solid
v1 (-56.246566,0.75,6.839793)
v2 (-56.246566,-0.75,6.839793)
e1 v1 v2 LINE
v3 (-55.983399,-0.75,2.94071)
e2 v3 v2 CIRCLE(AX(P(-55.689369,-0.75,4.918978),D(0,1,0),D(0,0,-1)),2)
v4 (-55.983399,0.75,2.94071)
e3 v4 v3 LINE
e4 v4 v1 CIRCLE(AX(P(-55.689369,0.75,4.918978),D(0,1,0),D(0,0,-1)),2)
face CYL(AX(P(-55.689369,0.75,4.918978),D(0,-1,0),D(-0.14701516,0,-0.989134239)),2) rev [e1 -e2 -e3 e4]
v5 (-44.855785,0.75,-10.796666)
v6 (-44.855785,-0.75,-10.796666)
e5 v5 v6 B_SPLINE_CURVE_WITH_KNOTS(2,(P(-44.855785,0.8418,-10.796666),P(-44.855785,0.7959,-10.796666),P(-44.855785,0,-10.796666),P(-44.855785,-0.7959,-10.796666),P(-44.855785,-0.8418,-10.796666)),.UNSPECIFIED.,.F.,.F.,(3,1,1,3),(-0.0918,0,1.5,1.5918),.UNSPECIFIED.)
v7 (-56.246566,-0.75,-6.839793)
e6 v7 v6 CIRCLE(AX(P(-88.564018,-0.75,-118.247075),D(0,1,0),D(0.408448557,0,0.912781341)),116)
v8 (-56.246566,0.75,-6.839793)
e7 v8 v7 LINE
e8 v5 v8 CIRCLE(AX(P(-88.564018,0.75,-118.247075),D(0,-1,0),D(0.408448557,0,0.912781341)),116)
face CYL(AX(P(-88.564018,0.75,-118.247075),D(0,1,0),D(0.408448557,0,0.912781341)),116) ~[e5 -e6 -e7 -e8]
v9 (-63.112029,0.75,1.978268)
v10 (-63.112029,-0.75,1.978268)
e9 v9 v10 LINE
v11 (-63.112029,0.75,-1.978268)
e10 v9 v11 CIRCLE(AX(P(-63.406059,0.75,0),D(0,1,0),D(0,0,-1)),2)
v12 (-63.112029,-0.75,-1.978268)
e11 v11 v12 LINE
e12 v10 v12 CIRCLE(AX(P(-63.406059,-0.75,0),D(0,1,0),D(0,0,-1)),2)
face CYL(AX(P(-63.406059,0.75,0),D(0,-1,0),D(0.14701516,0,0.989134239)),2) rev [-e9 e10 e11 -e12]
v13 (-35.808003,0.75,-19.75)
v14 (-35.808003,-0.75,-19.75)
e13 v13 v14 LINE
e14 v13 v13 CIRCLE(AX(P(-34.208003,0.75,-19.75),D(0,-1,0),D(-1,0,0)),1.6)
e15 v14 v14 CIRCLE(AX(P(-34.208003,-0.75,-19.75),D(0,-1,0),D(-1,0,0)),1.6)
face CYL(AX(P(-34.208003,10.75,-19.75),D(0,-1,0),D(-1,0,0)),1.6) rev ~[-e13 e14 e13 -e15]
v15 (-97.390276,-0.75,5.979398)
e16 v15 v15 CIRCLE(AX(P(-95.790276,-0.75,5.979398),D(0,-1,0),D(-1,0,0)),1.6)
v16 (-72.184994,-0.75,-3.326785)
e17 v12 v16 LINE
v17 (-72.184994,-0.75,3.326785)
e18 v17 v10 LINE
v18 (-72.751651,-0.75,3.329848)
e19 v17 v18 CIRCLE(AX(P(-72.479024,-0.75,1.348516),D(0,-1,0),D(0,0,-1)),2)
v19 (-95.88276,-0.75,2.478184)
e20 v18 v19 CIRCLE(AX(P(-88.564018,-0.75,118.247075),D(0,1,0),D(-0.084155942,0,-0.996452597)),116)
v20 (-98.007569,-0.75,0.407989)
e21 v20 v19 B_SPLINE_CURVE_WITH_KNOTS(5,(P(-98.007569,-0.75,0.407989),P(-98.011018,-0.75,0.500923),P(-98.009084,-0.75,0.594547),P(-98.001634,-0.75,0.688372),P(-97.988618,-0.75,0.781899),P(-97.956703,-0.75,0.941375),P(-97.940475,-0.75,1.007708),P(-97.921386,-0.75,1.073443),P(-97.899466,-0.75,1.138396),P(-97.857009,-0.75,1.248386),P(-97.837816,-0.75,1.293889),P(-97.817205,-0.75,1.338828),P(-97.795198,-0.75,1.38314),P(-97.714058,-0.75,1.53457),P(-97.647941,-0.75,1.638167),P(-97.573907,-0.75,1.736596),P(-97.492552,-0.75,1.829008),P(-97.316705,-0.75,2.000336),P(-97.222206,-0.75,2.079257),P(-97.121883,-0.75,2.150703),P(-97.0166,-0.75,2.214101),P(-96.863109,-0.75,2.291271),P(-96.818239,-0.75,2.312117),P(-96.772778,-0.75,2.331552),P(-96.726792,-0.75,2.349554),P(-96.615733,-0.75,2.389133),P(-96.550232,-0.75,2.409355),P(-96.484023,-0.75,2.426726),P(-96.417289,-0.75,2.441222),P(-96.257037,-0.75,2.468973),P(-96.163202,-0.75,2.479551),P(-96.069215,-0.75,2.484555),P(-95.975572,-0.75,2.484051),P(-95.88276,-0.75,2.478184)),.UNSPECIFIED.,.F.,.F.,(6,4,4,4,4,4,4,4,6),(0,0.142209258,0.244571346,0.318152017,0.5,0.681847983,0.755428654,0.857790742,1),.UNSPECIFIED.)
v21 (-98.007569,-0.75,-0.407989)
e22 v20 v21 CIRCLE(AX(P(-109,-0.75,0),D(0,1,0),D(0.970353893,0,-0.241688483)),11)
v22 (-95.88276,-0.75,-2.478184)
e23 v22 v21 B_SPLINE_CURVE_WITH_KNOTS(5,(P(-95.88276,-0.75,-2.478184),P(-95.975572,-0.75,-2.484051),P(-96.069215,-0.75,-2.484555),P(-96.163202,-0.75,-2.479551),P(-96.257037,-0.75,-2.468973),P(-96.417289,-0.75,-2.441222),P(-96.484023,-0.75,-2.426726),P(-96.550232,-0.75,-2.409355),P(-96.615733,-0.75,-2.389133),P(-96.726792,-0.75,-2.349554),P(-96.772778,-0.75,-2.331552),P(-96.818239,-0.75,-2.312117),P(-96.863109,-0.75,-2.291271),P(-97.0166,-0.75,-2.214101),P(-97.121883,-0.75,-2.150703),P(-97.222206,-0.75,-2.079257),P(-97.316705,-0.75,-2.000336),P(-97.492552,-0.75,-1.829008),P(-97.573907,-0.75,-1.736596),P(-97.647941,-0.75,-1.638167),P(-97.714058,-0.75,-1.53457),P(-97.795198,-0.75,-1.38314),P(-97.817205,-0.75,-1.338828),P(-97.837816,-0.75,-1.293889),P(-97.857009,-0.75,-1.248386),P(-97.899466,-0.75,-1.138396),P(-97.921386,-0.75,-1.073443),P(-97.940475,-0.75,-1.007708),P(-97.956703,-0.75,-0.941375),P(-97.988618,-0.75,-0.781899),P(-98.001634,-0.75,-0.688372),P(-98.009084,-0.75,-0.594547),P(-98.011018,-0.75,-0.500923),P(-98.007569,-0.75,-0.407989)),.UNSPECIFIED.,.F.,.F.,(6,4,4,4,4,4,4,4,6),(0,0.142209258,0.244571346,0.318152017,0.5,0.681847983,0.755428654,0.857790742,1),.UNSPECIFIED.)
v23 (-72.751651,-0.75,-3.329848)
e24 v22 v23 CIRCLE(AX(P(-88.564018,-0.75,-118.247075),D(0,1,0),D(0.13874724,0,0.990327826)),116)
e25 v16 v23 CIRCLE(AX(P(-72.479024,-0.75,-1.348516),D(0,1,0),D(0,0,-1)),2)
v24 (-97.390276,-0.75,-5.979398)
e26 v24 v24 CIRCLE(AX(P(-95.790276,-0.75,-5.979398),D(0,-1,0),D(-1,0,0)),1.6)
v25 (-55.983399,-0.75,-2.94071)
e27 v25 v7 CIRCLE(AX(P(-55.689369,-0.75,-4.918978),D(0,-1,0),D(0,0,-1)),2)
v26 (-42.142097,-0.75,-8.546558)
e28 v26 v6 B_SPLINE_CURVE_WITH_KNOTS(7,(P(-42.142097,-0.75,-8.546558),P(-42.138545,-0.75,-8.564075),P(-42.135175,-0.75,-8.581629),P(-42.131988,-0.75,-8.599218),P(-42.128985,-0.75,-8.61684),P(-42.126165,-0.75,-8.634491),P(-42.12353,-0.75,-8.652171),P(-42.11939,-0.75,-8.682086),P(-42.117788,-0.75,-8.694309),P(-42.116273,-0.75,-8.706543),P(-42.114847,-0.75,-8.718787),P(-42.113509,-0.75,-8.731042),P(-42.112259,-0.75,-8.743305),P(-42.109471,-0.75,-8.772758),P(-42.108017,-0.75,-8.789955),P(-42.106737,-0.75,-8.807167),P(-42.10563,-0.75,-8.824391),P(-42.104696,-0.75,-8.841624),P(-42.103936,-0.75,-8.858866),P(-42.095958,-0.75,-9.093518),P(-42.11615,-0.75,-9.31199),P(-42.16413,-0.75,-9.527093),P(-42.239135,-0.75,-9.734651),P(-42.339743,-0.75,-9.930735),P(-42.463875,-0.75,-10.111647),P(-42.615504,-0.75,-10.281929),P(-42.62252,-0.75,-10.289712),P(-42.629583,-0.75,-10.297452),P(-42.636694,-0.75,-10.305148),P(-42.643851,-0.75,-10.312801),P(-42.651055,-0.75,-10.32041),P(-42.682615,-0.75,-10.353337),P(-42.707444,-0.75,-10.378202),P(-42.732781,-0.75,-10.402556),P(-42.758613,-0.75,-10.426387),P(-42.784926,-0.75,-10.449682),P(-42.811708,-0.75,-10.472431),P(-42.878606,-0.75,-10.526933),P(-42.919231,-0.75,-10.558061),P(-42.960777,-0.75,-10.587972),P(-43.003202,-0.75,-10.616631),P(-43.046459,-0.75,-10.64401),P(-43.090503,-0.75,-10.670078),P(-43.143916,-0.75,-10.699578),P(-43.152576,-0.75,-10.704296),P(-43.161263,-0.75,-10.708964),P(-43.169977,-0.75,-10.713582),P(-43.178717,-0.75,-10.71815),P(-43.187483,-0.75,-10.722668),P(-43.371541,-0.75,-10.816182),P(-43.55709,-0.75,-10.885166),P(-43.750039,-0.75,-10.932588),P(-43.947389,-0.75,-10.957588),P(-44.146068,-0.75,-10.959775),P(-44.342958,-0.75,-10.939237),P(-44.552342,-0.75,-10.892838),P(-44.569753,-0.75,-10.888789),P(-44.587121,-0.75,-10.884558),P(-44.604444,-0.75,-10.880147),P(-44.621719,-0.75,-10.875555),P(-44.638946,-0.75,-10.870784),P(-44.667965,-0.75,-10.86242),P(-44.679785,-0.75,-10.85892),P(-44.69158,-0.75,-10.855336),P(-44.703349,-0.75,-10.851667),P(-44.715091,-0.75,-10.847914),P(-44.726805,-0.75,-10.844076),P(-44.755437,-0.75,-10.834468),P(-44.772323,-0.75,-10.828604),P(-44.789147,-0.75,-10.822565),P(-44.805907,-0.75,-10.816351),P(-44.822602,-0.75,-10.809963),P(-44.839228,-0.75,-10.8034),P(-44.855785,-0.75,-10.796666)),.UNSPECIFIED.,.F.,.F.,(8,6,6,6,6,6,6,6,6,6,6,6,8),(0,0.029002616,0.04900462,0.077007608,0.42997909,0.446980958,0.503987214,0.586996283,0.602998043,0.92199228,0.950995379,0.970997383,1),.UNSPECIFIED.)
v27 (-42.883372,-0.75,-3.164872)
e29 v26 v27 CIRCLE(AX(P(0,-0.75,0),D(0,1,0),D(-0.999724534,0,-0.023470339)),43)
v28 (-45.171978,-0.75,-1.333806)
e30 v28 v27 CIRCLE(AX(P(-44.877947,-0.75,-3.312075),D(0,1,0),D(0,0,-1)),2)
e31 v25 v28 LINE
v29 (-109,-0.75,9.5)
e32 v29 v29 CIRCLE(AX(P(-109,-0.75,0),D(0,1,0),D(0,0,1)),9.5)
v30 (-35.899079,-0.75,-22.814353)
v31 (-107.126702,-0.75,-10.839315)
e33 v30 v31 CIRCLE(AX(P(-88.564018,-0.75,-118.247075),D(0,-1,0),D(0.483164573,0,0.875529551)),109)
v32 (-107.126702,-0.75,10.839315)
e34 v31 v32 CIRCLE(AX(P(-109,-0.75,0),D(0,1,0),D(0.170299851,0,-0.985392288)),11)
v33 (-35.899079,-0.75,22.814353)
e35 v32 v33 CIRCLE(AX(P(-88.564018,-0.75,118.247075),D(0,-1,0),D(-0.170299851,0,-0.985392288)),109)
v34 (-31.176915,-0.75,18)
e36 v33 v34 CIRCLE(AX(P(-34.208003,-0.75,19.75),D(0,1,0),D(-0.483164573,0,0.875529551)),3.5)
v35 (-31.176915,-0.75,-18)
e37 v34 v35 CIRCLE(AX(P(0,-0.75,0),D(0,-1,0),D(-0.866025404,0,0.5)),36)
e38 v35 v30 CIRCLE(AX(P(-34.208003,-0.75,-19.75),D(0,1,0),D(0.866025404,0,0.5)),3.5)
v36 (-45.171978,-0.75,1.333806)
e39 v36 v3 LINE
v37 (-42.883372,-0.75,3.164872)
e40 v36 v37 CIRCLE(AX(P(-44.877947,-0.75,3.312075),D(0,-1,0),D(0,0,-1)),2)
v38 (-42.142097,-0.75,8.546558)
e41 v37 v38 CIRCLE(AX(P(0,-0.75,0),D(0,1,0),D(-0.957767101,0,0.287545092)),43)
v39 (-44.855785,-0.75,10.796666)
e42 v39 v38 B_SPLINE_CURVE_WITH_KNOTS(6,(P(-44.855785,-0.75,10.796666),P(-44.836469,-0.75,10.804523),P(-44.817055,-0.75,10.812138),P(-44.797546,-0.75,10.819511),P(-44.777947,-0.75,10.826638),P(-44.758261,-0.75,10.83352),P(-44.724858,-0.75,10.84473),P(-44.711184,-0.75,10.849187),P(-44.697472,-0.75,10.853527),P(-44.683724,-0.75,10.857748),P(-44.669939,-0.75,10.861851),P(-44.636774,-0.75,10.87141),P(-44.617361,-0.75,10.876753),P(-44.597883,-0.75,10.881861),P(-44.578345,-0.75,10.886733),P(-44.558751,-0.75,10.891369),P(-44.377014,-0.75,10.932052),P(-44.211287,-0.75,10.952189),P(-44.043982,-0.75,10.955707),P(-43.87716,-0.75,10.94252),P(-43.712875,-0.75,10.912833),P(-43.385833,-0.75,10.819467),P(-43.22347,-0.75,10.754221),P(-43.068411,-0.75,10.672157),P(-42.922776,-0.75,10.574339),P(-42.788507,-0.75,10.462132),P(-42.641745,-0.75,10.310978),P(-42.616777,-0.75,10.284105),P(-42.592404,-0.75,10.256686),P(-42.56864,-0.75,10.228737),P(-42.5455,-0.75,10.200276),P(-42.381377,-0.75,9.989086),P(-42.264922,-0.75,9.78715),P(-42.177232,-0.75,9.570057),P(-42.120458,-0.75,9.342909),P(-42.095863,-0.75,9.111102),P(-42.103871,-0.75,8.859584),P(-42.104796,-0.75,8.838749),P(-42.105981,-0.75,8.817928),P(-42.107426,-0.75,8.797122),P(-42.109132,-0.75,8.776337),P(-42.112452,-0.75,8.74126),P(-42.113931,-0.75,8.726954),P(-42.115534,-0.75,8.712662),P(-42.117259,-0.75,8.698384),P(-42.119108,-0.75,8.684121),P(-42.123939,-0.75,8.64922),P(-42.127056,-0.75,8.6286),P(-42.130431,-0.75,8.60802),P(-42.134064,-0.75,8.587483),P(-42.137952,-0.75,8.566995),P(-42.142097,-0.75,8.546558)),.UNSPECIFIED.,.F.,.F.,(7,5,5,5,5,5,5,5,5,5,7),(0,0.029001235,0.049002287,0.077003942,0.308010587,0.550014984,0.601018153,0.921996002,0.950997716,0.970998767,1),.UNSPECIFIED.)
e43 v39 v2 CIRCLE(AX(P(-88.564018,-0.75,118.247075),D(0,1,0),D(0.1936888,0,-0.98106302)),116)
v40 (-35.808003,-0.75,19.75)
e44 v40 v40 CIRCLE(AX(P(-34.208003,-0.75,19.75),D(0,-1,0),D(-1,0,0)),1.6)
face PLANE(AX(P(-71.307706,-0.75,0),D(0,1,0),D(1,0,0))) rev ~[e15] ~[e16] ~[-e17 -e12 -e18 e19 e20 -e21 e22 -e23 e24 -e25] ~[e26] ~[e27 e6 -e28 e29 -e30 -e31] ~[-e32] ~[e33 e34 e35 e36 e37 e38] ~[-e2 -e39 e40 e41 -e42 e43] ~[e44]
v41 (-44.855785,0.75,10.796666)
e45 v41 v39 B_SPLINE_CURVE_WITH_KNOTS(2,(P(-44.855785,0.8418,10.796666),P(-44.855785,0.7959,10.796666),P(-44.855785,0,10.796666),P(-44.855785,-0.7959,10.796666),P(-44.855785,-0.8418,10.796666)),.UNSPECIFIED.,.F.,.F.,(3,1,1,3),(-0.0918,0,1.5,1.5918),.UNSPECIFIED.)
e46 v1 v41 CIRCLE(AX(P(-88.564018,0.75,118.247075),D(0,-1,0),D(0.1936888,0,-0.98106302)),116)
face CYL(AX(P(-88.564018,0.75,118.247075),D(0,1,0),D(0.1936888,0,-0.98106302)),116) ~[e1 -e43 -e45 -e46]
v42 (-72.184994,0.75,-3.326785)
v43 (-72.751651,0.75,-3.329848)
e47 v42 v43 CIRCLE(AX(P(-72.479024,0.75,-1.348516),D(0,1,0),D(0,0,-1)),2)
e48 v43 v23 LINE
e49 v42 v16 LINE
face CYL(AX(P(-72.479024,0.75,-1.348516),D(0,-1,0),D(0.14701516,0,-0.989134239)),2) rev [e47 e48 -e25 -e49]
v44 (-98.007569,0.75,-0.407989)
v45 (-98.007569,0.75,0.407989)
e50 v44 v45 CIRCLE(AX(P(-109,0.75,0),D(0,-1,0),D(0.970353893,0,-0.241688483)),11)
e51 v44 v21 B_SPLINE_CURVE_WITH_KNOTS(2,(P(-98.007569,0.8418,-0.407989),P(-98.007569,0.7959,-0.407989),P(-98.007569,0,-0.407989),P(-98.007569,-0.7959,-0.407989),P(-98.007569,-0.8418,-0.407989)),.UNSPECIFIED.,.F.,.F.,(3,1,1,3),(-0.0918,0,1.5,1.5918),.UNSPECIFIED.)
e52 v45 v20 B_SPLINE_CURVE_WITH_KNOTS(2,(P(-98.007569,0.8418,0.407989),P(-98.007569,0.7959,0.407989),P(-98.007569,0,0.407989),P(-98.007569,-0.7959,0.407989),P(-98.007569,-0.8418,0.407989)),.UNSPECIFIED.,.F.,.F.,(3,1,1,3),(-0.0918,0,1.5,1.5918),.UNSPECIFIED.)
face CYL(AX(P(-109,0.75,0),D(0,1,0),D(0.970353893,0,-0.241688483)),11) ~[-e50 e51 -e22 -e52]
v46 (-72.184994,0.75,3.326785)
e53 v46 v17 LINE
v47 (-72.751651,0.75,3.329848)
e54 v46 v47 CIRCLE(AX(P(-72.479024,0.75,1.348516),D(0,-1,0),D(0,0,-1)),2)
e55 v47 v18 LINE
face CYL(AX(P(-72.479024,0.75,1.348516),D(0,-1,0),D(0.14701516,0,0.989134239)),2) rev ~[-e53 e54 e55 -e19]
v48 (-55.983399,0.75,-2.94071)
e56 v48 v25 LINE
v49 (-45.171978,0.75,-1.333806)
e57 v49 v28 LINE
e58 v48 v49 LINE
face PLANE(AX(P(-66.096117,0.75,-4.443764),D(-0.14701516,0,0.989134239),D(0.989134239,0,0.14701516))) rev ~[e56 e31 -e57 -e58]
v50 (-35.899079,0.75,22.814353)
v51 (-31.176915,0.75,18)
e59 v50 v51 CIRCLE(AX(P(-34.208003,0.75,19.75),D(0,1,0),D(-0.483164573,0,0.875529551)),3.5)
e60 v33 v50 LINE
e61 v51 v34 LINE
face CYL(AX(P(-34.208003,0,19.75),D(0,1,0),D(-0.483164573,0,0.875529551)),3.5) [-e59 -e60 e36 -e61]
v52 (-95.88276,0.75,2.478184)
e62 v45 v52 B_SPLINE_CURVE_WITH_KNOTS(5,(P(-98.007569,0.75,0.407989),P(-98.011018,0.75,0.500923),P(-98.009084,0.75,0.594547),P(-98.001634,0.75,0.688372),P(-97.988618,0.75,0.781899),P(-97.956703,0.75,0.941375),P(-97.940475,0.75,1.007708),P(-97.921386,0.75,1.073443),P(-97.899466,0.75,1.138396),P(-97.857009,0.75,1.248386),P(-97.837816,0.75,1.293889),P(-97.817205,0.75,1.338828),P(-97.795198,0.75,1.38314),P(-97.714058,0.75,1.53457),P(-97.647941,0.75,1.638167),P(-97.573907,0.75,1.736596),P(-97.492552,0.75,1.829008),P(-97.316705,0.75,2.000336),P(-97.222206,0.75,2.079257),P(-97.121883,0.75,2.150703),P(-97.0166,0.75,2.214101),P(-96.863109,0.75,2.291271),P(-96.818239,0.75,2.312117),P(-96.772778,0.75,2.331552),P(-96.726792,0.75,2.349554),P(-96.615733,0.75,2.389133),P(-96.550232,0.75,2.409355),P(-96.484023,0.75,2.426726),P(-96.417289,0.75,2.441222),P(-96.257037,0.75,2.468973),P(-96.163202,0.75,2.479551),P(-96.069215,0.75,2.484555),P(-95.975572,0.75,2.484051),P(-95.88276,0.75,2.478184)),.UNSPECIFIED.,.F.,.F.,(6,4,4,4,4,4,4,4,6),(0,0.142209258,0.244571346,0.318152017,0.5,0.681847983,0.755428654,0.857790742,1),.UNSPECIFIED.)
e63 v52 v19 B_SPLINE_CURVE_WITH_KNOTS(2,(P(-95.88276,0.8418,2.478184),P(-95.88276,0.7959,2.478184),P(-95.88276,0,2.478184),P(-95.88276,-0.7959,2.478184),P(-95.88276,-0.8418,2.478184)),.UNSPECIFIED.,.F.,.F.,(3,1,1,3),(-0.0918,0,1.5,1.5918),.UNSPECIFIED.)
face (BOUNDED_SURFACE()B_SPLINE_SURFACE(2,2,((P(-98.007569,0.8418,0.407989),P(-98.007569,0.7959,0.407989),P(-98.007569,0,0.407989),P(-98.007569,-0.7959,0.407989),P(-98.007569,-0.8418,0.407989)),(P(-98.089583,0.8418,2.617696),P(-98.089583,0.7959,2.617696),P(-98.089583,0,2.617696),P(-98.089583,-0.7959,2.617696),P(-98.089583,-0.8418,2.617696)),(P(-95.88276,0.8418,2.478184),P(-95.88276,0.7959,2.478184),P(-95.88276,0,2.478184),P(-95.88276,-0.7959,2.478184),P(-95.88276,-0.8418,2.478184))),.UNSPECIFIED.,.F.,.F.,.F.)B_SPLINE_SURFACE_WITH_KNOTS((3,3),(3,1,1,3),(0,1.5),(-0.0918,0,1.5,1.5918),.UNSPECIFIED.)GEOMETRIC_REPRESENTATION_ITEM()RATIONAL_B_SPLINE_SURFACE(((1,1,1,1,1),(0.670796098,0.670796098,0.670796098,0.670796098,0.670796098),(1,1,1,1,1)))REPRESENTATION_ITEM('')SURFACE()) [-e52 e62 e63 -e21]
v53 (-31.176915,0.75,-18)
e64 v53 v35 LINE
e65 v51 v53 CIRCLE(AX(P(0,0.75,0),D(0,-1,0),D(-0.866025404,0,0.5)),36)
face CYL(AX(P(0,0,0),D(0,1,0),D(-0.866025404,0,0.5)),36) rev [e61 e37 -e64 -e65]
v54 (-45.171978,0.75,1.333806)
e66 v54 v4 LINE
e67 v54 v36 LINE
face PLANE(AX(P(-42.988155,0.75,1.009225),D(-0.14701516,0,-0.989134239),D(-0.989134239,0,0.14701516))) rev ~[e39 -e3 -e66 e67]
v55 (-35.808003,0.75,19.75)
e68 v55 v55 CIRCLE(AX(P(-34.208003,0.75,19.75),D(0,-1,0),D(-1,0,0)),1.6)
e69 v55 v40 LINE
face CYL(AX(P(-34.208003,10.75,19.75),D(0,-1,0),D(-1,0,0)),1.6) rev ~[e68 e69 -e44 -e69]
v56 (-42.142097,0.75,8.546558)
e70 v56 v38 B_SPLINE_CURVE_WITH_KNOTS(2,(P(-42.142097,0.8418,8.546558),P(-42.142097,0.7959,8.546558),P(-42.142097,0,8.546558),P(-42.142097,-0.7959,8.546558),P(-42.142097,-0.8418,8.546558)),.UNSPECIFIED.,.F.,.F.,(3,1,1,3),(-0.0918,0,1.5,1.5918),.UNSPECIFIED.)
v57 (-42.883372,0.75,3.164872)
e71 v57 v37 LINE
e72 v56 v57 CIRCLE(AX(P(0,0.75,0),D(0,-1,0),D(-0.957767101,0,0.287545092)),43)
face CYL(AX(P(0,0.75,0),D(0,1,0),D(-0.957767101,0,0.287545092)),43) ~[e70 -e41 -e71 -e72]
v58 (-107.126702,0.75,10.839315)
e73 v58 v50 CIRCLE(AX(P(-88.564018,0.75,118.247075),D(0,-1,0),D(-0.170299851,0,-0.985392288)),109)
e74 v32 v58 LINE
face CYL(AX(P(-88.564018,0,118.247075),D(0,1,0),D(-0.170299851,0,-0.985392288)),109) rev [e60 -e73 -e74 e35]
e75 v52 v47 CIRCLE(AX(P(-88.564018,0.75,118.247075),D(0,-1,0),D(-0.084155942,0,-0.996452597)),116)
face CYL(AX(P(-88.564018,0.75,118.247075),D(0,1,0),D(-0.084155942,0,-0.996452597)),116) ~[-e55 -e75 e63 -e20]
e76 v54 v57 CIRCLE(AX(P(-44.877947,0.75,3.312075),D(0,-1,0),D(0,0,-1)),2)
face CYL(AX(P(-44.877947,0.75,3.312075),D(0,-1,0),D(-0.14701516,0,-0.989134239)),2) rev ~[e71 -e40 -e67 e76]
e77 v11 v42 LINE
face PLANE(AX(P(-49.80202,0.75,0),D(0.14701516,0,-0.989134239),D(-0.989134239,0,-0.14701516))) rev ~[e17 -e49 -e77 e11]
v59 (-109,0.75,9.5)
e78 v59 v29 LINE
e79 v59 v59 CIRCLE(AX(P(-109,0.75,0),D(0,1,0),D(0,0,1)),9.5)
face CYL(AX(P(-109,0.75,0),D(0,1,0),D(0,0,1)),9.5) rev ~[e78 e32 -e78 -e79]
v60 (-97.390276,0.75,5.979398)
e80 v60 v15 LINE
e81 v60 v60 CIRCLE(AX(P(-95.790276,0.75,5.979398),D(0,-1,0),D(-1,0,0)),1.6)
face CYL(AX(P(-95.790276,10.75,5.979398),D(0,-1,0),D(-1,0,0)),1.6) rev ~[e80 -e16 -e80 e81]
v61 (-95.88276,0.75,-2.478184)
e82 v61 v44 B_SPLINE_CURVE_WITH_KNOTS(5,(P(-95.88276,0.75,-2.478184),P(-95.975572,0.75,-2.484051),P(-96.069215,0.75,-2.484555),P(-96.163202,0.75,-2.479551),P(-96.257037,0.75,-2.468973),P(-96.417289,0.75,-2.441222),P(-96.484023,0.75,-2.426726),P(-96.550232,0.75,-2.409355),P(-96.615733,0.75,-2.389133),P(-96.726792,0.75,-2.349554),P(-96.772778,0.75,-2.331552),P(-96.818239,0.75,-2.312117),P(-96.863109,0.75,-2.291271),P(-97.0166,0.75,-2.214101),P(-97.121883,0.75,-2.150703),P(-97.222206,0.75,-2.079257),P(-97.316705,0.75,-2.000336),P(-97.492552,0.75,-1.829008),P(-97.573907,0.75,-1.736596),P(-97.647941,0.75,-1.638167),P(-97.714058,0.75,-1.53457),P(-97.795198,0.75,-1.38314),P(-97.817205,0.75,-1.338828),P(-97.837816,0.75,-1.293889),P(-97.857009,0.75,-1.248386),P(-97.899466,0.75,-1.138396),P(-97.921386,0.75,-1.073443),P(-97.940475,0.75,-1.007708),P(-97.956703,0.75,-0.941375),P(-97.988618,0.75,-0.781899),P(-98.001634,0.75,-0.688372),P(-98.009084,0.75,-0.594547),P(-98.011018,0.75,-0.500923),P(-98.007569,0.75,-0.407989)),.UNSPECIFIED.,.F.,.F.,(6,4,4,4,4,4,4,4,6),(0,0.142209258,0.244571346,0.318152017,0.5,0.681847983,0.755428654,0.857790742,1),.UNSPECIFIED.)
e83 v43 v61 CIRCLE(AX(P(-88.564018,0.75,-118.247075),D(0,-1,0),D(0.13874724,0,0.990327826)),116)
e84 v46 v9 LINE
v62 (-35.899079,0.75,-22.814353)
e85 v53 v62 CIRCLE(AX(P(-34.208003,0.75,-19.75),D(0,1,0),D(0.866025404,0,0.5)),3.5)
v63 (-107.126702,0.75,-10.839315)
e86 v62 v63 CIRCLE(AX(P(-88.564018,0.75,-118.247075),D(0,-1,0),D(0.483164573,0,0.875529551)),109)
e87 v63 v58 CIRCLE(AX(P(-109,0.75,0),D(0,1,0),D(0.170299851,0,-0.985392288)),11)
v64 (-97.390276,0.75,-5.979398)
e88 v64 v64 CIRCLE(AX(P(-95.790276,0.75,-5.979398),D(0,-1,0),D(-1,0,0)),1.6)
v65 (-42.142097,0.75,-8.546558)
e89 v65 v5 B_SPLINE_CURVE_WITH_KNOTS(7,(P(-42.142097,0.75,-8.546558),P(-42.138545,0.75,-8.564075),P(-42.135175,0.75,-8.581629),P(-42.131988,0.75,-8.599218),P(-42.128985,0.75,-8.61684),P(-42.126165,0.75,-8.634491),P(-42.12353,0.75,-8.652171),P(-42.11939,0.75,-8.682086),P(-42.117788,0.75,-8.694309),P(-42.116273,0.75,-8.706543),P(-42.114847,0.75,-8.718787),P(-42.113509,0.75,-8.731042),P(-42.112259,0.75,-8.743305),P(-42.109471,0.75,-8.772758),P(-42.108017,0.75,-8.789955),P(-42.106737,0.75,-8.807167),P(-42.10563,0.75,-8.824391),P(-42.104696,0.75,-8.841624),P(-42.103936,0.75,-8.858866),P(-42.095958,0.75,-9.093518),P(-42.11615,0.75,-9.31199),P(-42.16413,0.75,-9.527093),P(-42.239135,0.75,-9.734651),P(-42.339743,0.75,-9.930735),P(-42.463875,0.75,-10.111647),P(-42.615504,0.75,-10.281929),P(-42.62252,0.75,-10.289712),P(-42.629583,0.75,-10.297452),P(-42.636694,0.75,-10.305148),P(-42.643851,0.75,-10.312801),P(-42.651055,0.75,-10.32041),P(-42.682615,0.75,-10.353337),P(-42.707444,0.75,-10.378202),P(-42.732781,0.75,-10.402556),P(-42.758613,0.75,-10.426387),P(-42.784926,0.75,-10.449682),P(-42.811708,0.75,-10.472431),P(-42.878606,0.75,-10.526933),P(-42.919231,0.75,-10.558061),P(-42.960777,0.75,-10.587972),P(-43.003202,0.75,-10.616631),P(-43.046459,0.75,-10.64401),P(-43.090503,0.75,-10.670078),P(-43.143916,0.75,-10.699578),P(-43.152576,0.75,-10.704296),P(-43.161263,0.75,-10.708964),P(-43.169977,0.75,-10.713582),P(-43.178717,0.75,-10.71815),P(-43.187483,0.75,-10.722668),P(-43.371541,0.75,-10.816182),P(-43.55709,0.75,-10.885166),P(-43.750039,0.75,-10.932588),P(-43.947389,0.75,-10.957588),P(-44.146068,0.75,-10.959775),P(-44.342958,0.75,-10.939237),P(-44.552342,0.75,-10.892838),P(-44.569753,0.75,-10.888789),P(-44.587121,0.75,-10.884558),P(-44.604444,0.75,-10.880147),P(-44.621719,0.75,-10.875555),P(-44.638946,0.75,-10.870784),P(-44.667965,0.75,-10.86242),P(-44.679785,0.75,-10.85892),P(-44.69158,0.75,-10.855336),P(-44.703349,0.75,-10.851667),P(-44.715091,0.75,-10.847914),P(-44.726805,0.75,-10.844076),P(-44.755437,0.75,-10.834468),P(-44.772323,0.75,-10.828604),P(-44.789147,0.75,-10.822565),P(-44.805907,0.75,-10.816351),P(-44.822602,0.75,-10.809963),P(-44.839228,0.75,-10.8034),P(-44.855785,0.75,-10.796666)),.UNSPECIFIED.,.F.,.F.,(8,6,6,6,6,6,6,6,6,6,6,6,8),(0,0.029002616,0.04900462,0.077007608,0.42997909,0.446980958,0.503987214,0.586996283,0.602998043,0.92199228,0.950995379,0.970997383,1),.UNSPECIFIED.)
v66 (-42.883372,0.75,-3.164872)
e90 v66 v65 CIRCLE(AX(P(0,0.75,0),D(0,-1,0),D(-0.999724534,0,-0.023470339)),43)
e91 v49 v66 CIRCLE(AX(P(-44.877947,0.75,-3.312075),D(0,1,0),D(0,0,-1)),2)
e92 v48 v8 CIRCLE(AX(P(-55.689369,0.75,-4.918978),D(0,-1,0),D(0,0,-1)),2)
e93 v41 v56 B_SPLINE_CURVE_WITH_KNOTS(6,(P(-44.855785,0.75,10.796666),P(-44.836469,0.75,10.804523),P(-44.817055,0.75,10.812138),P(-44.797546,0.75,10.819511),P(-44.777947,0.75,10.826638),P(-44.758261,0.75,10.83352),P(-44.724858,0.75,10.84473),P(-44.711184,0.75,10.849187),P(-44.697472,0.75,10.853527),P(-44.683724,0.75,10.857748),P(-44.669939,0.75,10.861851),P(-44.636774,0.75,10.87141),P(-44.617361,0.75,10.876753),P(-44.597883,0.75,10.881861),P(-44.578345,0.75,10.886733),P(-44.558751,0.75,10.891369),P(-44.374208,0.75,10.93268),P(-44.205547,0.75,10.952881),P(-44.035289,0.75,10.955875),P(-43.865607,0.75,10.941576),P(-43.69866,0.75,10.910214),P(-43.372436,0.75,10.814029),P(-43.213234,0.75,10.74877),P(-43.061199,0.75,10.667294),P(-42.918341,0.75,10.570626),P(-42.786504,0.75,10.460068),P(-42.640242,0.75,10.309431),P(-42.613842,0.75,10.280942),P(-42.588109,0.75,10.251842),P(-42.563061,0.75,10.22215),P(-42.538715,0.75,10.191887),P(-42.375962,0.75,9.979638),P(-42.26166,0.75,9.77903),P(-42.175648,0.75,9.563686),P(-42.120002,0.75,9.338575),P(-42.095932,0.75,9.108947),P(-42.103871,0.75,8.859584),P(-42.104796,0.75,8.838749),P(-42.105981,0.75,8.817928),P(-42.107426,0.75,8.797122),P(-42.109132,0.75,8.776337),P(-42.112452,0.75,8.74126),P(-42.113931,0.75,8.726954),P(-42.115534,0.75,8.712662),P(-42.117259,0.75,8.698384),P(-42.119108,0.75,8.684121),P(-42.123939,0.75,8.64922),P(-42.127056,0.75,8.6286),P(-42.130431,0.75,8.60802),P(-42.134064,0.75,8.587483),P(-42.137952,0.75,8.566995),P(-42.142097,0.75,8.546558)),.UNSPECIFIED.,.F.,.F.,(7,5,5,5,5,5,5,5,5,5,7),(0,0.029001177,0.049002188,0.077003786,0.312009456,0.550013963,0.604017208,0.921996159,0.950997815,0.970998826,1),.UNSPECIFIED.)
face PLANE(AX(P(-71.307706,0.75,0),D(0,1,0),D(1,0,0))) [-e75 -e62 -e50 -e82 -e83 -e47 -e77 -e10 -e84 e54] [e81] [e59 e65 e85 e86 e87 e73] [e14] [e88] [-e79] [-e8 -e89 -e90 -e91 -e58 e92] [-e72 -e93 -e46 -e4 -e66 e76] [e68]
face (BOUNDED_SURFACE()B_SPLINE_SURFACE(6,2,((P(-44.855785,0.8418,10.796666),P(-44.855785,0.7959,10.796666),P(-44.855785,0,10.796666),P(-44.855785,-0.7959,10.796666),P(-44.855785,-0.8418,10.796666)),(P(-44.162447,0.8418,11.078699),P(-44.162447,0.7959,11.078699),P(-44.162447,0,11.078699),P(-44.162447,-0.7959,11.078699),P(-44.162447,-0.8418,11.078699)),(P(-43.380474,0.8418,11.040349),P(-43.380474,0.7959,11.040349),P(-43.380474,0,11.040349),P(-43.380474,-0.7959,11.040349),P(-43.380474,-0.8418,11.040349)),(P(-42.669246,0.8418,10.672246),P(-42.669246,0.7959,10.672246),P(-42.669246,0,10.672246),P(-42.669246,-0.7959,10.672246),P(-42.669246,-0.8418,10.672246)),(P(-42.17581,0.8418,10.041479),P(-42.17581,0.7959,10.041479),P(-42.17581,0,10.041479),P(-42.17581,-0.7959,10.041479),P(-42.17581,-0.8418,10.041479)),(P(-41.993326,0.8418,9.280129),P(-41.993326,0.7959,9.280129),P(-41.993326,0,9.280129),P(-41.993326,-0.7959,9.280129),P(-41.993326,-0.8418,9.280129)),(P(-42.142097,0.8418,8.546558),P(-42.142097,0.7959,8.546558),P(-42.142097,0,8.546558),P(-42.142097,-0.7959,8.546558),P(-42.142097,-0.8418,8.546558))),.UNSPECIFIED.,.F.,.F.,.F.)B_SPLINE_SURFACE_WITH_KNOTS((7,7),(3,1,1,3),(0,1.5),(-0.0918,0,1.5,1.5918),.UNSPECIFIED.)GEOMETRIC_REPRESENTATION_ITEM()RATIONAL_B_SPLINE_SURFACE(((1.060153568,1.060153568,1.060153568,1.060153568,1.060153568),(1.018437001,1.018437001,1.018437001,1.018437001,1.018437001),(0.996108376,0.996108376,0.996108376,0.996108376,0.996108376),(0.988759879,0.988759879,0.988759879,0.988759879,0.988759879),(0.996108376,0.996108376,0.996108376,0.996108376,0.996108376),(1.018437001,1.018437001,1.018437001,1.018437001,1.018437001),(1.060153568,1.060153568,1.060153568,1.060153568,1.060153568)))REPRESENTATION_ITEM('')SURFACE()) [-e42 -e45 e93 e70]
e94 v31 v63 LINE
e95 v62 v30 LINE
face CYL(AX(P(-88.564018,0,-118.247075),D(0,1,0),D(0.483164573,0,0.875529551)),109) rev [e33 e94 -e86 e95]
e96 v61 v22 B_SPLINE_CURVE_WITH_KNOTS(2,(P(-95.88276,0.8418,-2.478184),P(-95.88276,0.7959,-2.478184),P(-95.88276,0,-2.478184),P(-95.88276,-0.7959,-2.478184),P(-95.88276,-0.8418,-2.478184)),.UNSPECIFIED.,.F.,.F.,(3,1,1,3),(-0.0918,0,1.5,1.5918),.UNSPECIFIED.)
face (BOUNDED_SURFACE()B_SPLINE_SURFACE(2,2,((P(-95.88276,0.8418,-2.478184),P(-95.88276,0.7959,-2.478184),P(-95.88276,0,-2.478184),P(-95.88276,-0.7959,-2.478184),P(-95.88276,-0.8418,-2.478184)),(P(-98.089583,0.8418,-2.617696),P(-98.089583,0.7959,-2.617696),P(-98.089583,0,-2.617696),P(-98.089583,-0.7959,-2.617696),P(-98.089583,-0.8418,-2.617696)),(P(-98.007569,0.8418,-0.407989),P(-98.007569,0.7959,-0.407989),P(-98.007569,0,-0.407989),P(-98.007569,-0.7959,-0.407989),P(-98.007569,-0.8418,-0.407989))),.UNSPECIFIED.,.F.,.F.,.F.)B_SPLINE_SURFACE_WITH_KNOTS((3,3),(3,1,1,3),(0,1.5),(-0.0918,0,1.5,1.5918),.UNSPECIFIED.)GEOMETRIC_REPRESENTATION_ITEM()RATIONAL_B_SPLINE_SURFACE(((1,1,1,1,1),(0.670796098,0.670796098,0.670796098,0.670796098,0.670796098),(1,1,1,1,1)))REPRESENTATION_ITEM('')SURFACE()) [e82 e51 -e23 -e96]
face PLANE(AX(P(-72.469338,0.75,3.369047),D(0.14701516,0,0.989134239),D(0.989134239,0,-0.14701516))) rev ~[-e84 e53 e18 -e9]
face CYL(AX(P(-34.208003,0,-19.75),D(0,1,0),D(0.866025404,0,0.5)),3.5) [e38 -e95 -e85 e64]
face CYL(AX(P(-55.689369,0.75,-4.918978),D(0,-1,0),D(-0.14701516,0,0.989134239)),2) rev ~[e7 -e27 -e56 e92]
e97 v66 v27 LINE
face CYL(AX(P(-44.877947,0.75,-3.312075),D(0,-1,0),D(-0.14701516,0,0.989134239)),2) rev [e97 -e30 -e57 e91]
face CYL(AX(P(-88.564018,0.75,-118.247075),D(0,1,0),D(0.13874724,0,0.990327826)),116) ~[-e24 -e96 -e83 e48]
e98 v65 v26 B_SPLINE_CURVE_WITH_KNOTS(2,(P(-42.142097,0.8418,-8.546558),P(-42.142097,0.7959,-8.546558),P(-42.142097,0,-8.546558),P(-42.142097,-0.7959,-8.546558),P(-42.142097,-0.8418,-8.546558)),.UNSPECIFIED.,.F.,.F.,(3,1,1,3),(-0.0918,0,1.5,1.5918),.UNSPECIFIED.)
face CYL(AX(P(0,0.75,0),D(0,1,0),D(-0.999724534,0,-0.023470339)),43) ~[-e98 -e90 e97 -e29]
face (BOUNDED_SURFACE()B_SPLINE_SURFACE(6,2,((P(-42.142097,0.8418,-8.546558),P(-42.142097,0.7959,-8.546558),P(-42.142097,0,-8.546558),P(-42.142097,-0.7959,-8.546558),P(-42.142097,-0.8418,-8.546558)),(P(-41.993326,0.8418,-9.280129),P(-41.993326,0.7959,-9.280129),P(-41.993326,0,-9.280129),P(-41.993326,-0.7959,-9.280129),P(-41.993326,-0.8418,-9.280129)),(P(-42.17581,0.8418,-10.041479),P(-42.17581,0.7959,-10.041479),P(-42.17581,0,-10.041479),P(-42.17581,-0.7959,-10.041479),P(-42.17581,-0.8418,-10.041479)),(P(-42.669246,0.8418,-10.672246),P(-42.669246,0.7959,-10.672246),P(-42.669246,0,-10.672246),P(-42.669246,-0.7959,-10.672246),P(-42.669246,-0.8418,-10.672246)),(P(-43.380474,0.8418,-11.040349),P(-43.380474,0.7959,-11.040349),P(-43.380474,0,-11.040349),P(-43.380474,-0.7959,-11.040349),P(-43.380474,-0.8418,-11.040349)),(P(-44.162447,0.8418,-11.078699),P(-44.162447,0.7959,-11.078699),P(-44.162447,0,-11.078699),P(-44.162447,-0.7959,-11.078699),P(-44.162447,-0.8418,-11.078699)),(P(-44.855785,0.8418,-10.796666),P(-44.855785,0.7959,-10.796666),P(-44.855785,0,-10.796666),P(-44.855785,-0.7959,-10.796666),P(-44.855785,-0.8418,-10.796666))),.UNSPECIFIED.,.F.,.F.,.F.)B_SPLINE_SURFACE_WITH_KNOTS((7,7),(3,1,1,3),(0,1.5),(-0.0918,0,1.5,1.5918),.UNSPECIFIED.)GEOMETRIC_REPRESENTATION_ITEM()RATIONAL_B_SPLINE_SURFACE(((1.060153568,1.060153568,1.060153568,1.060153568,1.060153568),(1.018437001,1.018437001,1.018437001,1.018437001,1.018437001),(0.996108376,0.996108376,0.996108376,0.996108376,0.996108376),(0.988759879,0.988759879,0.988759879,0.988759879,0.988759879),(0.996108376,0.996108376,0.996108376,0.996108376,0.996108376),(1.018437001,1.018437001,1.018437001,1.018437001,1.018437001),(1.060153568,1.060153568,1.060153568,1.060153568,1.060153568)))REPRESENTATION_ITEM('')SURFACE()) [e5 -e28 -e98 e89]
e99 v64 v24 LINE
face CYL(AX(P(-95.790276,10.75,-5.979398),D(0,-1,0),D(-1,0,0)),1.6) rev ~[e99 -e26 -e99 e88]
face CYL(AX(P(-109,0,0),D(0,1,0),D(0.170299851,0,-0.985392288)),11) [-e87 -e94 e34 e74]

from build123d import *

# Parameters (mm, degrees)
SKETCH1_R                      = 3.5
BOSS_EXTRUDE1_DEPTH            = 0.75
F_3_2_3_2_DIAMETER_HOLE1_D     = 3.2
F_3_2_3_2_DIAMETER_HOLE1_DEPTH = 10
F_3_2_3_2_DIAMETER_HOLE1_TIP   = 0.96137699
CUT_EXTRUDE1_DEPTH             = 123.2407972
FILLET1_R                      = 2
SKETCH7_R                      = 9.5
CUT_EXTRUDE2_DEPTH             = 123.240797318


with BuildPart() as part:
    # Sketch1 → Boss-Extrude1 (new, symmetric)
    with BuildSketch(Plane(origin=(0, 0, 0), x_dir=(1, 0, 0), z_dir=(0, 1, 0))):
        with BuildLine():
            ThreePointArc((-37.239092363, -21.5), (-43, 0), (-37.239092363, 21.5))
            ThreePointArc((-37.239092363, 21.5), (-36.658838331, 22.248681329), (-35.899079455, 22.81435343))
            ThreePointArc((-35.899079455, 22.81435343), (-70.492179883, 10.7556392), (-107.126701642, 10.839315166))
            ThreePointArc((-107.126701642, 10.839315166), (-120, 0), (-107.126701642, -10.839315166))
            ThreePointArc((-107.126701642, -10.839315166), (-70.492179883, -10.7556392), (-35.899079455, -22.81435343))
            ThreePointArc((-35.899079455, -22.81435343), (-36.658838331, -22.248681329), (-37.239092363, -21.5))
        make_face()
        with BuildLine():
            ThreePointArc((-31.176914536, 18), (-35.958003449, 16.718911087), (-37.239092363, 21.5))
            ThreePointArc((-37.239092363, 21.5), (-43, 0), (-37.239092363, -21.5))
            ThreePointArc((-37.239092363, -21.5), (-35.958003449, -16.718911087), (-31.176914536, -18))
            ThreePointArc((-31.176914536, -18), (-36, 0), (-31.176914536, 18))
        make_face()
        with Locations((-34.208003449, -19.75)):
            Circle(SKETCH1_R)
        with Locations((-34.208003449, 19.75)):
            Circle(SKETCH1_R)
    extrude(amount=BOSS_EXTRUDE1_DEPTH, both=True)

    # Ø3.2 (3.2) Diameter Hole1
    with Locations(Plane(origin=(0, 0.75, 0), x_dir=(1, 0, 0), z_dir=(0, 1, 0))):
        with Locations((-34.208003449, 19.75), (-34.208003449, -19.75), (-95.790276336, 5.979398024), (-95.790276336, -5.979398024)):
            Hole(F_3_2_3_2_DIAMETER_HOLE1_D / 2, depth=F_3_2_3_2_DIAMETER_HOLE1_DEPTH)
            with Locations((0, 0, -(F_3_2_3_2_DIAMETER_HOLE1_DEPTH + F_3_2_3_2_DIAMETER_HOLE1_TIP / 2))):  # 118° drill point
                Cone(0, F_3_2_3_2_DIAMETER_HOLE1_D / 2, F_3_2_3_2_DIAMETER_HOLE1_TIP, mode=Mode.SUBTRACT)

    # Sketch6 → Cut-Extrude1 (cut, through all)
    with BuildSketch(Plane(origin=(0, 0.75, 0), x_dir=(1, 0, 0), z_dir=(0, 1, 0))):
        with BuildLine():
            Line((-72.469338063, -3.369046694), (-49.802019621, 0))
            Line((-49.802019621, 0), (-72.469338063, 3.369046694))
            ThreePointArc((-72.469338063, 3.369046694), (-85.377857375, 2.290839769), (-98.326107181, 2.65857332))
            ThreePointArc((-98.326107181, 2.65857332), (-98, 0), (-98.326107181, -2.65857332))
            ThreePointArc((-98.326107181, -2.65857332), (-85.377857375, -2.290839769), (-72.469338063, -3.369046694))
        make_face()
        with BuildLine():
            Line((-66.096117167, 4.443764231), (-42.988154947, 1.009224591))
            ThreePointArc((-42.988154947, 1.009224591), (-42.467311238, 6.747405149), (-41.183985346, 12.36443897))
            ThreePointArc((-41.183985346, 12.36443897), (-53.416219701, 7.70010587), (-66.096117167, 4.443764231))
        make_face()
        with BuildLine():
            ThreePointArc((-41.183985346, -12.36443897), (-42.467311238, -6.747405149), (-42.988154947, -1.009224591))
            Line((-42.988154947, -1.009224591), (-66.096117167, -4.443764231))
            ThreePointArc((-66.096117167, -4.443764231), (-53.416219701, -7.70010587), (-41.183985346, -12.36443897))
        make_face()
    extrude(amount=-CUT_EXTRUDE1_DEPTH, mode=Mode.SUBTRACT)

    # Fillet1
    fillet1_edges = [part.edges().sort_by_distance(p)[0] for p in [
        (-98.326107181, 0, 2.65857332),
        (-98.326107181, 0, -2.65857332),
        (-72.469338063, 0, -3.369046694),
        (-49.802019621, 0, 0),
        (-72.469338063, 0, 3.369046694),
        (-41.183985346, 0, -12.36443897),
        (-42.988154947, 0, -1.009224591),
        (-66.096117167, 0, -4.443764231),
        (-42.988154947, 0, 1.009224591),
        (-41.183985346, 0, 12.36443897),
        (-66.096117167, 0, 4.443764231),
    ]]
    fillet(fillet1_edges, radius=FILLET1_R)

    # Sketch7 → Cut-Extrude2 (cut, through all)
    with BuildSketch(Plane(origin=(0, 0.75, 0), x_dir=(1, 0, 0), z_dir=(0, 1, 0))):
        with Locations(Location((-109, 0, 0), (0, 0, 270))):
            Circle(SKETCH7_R)
    extrude(amount=-CUT_EXTRUDE2_DEPTH, mode=Mode.SUBTRACT)


solid = part.part
